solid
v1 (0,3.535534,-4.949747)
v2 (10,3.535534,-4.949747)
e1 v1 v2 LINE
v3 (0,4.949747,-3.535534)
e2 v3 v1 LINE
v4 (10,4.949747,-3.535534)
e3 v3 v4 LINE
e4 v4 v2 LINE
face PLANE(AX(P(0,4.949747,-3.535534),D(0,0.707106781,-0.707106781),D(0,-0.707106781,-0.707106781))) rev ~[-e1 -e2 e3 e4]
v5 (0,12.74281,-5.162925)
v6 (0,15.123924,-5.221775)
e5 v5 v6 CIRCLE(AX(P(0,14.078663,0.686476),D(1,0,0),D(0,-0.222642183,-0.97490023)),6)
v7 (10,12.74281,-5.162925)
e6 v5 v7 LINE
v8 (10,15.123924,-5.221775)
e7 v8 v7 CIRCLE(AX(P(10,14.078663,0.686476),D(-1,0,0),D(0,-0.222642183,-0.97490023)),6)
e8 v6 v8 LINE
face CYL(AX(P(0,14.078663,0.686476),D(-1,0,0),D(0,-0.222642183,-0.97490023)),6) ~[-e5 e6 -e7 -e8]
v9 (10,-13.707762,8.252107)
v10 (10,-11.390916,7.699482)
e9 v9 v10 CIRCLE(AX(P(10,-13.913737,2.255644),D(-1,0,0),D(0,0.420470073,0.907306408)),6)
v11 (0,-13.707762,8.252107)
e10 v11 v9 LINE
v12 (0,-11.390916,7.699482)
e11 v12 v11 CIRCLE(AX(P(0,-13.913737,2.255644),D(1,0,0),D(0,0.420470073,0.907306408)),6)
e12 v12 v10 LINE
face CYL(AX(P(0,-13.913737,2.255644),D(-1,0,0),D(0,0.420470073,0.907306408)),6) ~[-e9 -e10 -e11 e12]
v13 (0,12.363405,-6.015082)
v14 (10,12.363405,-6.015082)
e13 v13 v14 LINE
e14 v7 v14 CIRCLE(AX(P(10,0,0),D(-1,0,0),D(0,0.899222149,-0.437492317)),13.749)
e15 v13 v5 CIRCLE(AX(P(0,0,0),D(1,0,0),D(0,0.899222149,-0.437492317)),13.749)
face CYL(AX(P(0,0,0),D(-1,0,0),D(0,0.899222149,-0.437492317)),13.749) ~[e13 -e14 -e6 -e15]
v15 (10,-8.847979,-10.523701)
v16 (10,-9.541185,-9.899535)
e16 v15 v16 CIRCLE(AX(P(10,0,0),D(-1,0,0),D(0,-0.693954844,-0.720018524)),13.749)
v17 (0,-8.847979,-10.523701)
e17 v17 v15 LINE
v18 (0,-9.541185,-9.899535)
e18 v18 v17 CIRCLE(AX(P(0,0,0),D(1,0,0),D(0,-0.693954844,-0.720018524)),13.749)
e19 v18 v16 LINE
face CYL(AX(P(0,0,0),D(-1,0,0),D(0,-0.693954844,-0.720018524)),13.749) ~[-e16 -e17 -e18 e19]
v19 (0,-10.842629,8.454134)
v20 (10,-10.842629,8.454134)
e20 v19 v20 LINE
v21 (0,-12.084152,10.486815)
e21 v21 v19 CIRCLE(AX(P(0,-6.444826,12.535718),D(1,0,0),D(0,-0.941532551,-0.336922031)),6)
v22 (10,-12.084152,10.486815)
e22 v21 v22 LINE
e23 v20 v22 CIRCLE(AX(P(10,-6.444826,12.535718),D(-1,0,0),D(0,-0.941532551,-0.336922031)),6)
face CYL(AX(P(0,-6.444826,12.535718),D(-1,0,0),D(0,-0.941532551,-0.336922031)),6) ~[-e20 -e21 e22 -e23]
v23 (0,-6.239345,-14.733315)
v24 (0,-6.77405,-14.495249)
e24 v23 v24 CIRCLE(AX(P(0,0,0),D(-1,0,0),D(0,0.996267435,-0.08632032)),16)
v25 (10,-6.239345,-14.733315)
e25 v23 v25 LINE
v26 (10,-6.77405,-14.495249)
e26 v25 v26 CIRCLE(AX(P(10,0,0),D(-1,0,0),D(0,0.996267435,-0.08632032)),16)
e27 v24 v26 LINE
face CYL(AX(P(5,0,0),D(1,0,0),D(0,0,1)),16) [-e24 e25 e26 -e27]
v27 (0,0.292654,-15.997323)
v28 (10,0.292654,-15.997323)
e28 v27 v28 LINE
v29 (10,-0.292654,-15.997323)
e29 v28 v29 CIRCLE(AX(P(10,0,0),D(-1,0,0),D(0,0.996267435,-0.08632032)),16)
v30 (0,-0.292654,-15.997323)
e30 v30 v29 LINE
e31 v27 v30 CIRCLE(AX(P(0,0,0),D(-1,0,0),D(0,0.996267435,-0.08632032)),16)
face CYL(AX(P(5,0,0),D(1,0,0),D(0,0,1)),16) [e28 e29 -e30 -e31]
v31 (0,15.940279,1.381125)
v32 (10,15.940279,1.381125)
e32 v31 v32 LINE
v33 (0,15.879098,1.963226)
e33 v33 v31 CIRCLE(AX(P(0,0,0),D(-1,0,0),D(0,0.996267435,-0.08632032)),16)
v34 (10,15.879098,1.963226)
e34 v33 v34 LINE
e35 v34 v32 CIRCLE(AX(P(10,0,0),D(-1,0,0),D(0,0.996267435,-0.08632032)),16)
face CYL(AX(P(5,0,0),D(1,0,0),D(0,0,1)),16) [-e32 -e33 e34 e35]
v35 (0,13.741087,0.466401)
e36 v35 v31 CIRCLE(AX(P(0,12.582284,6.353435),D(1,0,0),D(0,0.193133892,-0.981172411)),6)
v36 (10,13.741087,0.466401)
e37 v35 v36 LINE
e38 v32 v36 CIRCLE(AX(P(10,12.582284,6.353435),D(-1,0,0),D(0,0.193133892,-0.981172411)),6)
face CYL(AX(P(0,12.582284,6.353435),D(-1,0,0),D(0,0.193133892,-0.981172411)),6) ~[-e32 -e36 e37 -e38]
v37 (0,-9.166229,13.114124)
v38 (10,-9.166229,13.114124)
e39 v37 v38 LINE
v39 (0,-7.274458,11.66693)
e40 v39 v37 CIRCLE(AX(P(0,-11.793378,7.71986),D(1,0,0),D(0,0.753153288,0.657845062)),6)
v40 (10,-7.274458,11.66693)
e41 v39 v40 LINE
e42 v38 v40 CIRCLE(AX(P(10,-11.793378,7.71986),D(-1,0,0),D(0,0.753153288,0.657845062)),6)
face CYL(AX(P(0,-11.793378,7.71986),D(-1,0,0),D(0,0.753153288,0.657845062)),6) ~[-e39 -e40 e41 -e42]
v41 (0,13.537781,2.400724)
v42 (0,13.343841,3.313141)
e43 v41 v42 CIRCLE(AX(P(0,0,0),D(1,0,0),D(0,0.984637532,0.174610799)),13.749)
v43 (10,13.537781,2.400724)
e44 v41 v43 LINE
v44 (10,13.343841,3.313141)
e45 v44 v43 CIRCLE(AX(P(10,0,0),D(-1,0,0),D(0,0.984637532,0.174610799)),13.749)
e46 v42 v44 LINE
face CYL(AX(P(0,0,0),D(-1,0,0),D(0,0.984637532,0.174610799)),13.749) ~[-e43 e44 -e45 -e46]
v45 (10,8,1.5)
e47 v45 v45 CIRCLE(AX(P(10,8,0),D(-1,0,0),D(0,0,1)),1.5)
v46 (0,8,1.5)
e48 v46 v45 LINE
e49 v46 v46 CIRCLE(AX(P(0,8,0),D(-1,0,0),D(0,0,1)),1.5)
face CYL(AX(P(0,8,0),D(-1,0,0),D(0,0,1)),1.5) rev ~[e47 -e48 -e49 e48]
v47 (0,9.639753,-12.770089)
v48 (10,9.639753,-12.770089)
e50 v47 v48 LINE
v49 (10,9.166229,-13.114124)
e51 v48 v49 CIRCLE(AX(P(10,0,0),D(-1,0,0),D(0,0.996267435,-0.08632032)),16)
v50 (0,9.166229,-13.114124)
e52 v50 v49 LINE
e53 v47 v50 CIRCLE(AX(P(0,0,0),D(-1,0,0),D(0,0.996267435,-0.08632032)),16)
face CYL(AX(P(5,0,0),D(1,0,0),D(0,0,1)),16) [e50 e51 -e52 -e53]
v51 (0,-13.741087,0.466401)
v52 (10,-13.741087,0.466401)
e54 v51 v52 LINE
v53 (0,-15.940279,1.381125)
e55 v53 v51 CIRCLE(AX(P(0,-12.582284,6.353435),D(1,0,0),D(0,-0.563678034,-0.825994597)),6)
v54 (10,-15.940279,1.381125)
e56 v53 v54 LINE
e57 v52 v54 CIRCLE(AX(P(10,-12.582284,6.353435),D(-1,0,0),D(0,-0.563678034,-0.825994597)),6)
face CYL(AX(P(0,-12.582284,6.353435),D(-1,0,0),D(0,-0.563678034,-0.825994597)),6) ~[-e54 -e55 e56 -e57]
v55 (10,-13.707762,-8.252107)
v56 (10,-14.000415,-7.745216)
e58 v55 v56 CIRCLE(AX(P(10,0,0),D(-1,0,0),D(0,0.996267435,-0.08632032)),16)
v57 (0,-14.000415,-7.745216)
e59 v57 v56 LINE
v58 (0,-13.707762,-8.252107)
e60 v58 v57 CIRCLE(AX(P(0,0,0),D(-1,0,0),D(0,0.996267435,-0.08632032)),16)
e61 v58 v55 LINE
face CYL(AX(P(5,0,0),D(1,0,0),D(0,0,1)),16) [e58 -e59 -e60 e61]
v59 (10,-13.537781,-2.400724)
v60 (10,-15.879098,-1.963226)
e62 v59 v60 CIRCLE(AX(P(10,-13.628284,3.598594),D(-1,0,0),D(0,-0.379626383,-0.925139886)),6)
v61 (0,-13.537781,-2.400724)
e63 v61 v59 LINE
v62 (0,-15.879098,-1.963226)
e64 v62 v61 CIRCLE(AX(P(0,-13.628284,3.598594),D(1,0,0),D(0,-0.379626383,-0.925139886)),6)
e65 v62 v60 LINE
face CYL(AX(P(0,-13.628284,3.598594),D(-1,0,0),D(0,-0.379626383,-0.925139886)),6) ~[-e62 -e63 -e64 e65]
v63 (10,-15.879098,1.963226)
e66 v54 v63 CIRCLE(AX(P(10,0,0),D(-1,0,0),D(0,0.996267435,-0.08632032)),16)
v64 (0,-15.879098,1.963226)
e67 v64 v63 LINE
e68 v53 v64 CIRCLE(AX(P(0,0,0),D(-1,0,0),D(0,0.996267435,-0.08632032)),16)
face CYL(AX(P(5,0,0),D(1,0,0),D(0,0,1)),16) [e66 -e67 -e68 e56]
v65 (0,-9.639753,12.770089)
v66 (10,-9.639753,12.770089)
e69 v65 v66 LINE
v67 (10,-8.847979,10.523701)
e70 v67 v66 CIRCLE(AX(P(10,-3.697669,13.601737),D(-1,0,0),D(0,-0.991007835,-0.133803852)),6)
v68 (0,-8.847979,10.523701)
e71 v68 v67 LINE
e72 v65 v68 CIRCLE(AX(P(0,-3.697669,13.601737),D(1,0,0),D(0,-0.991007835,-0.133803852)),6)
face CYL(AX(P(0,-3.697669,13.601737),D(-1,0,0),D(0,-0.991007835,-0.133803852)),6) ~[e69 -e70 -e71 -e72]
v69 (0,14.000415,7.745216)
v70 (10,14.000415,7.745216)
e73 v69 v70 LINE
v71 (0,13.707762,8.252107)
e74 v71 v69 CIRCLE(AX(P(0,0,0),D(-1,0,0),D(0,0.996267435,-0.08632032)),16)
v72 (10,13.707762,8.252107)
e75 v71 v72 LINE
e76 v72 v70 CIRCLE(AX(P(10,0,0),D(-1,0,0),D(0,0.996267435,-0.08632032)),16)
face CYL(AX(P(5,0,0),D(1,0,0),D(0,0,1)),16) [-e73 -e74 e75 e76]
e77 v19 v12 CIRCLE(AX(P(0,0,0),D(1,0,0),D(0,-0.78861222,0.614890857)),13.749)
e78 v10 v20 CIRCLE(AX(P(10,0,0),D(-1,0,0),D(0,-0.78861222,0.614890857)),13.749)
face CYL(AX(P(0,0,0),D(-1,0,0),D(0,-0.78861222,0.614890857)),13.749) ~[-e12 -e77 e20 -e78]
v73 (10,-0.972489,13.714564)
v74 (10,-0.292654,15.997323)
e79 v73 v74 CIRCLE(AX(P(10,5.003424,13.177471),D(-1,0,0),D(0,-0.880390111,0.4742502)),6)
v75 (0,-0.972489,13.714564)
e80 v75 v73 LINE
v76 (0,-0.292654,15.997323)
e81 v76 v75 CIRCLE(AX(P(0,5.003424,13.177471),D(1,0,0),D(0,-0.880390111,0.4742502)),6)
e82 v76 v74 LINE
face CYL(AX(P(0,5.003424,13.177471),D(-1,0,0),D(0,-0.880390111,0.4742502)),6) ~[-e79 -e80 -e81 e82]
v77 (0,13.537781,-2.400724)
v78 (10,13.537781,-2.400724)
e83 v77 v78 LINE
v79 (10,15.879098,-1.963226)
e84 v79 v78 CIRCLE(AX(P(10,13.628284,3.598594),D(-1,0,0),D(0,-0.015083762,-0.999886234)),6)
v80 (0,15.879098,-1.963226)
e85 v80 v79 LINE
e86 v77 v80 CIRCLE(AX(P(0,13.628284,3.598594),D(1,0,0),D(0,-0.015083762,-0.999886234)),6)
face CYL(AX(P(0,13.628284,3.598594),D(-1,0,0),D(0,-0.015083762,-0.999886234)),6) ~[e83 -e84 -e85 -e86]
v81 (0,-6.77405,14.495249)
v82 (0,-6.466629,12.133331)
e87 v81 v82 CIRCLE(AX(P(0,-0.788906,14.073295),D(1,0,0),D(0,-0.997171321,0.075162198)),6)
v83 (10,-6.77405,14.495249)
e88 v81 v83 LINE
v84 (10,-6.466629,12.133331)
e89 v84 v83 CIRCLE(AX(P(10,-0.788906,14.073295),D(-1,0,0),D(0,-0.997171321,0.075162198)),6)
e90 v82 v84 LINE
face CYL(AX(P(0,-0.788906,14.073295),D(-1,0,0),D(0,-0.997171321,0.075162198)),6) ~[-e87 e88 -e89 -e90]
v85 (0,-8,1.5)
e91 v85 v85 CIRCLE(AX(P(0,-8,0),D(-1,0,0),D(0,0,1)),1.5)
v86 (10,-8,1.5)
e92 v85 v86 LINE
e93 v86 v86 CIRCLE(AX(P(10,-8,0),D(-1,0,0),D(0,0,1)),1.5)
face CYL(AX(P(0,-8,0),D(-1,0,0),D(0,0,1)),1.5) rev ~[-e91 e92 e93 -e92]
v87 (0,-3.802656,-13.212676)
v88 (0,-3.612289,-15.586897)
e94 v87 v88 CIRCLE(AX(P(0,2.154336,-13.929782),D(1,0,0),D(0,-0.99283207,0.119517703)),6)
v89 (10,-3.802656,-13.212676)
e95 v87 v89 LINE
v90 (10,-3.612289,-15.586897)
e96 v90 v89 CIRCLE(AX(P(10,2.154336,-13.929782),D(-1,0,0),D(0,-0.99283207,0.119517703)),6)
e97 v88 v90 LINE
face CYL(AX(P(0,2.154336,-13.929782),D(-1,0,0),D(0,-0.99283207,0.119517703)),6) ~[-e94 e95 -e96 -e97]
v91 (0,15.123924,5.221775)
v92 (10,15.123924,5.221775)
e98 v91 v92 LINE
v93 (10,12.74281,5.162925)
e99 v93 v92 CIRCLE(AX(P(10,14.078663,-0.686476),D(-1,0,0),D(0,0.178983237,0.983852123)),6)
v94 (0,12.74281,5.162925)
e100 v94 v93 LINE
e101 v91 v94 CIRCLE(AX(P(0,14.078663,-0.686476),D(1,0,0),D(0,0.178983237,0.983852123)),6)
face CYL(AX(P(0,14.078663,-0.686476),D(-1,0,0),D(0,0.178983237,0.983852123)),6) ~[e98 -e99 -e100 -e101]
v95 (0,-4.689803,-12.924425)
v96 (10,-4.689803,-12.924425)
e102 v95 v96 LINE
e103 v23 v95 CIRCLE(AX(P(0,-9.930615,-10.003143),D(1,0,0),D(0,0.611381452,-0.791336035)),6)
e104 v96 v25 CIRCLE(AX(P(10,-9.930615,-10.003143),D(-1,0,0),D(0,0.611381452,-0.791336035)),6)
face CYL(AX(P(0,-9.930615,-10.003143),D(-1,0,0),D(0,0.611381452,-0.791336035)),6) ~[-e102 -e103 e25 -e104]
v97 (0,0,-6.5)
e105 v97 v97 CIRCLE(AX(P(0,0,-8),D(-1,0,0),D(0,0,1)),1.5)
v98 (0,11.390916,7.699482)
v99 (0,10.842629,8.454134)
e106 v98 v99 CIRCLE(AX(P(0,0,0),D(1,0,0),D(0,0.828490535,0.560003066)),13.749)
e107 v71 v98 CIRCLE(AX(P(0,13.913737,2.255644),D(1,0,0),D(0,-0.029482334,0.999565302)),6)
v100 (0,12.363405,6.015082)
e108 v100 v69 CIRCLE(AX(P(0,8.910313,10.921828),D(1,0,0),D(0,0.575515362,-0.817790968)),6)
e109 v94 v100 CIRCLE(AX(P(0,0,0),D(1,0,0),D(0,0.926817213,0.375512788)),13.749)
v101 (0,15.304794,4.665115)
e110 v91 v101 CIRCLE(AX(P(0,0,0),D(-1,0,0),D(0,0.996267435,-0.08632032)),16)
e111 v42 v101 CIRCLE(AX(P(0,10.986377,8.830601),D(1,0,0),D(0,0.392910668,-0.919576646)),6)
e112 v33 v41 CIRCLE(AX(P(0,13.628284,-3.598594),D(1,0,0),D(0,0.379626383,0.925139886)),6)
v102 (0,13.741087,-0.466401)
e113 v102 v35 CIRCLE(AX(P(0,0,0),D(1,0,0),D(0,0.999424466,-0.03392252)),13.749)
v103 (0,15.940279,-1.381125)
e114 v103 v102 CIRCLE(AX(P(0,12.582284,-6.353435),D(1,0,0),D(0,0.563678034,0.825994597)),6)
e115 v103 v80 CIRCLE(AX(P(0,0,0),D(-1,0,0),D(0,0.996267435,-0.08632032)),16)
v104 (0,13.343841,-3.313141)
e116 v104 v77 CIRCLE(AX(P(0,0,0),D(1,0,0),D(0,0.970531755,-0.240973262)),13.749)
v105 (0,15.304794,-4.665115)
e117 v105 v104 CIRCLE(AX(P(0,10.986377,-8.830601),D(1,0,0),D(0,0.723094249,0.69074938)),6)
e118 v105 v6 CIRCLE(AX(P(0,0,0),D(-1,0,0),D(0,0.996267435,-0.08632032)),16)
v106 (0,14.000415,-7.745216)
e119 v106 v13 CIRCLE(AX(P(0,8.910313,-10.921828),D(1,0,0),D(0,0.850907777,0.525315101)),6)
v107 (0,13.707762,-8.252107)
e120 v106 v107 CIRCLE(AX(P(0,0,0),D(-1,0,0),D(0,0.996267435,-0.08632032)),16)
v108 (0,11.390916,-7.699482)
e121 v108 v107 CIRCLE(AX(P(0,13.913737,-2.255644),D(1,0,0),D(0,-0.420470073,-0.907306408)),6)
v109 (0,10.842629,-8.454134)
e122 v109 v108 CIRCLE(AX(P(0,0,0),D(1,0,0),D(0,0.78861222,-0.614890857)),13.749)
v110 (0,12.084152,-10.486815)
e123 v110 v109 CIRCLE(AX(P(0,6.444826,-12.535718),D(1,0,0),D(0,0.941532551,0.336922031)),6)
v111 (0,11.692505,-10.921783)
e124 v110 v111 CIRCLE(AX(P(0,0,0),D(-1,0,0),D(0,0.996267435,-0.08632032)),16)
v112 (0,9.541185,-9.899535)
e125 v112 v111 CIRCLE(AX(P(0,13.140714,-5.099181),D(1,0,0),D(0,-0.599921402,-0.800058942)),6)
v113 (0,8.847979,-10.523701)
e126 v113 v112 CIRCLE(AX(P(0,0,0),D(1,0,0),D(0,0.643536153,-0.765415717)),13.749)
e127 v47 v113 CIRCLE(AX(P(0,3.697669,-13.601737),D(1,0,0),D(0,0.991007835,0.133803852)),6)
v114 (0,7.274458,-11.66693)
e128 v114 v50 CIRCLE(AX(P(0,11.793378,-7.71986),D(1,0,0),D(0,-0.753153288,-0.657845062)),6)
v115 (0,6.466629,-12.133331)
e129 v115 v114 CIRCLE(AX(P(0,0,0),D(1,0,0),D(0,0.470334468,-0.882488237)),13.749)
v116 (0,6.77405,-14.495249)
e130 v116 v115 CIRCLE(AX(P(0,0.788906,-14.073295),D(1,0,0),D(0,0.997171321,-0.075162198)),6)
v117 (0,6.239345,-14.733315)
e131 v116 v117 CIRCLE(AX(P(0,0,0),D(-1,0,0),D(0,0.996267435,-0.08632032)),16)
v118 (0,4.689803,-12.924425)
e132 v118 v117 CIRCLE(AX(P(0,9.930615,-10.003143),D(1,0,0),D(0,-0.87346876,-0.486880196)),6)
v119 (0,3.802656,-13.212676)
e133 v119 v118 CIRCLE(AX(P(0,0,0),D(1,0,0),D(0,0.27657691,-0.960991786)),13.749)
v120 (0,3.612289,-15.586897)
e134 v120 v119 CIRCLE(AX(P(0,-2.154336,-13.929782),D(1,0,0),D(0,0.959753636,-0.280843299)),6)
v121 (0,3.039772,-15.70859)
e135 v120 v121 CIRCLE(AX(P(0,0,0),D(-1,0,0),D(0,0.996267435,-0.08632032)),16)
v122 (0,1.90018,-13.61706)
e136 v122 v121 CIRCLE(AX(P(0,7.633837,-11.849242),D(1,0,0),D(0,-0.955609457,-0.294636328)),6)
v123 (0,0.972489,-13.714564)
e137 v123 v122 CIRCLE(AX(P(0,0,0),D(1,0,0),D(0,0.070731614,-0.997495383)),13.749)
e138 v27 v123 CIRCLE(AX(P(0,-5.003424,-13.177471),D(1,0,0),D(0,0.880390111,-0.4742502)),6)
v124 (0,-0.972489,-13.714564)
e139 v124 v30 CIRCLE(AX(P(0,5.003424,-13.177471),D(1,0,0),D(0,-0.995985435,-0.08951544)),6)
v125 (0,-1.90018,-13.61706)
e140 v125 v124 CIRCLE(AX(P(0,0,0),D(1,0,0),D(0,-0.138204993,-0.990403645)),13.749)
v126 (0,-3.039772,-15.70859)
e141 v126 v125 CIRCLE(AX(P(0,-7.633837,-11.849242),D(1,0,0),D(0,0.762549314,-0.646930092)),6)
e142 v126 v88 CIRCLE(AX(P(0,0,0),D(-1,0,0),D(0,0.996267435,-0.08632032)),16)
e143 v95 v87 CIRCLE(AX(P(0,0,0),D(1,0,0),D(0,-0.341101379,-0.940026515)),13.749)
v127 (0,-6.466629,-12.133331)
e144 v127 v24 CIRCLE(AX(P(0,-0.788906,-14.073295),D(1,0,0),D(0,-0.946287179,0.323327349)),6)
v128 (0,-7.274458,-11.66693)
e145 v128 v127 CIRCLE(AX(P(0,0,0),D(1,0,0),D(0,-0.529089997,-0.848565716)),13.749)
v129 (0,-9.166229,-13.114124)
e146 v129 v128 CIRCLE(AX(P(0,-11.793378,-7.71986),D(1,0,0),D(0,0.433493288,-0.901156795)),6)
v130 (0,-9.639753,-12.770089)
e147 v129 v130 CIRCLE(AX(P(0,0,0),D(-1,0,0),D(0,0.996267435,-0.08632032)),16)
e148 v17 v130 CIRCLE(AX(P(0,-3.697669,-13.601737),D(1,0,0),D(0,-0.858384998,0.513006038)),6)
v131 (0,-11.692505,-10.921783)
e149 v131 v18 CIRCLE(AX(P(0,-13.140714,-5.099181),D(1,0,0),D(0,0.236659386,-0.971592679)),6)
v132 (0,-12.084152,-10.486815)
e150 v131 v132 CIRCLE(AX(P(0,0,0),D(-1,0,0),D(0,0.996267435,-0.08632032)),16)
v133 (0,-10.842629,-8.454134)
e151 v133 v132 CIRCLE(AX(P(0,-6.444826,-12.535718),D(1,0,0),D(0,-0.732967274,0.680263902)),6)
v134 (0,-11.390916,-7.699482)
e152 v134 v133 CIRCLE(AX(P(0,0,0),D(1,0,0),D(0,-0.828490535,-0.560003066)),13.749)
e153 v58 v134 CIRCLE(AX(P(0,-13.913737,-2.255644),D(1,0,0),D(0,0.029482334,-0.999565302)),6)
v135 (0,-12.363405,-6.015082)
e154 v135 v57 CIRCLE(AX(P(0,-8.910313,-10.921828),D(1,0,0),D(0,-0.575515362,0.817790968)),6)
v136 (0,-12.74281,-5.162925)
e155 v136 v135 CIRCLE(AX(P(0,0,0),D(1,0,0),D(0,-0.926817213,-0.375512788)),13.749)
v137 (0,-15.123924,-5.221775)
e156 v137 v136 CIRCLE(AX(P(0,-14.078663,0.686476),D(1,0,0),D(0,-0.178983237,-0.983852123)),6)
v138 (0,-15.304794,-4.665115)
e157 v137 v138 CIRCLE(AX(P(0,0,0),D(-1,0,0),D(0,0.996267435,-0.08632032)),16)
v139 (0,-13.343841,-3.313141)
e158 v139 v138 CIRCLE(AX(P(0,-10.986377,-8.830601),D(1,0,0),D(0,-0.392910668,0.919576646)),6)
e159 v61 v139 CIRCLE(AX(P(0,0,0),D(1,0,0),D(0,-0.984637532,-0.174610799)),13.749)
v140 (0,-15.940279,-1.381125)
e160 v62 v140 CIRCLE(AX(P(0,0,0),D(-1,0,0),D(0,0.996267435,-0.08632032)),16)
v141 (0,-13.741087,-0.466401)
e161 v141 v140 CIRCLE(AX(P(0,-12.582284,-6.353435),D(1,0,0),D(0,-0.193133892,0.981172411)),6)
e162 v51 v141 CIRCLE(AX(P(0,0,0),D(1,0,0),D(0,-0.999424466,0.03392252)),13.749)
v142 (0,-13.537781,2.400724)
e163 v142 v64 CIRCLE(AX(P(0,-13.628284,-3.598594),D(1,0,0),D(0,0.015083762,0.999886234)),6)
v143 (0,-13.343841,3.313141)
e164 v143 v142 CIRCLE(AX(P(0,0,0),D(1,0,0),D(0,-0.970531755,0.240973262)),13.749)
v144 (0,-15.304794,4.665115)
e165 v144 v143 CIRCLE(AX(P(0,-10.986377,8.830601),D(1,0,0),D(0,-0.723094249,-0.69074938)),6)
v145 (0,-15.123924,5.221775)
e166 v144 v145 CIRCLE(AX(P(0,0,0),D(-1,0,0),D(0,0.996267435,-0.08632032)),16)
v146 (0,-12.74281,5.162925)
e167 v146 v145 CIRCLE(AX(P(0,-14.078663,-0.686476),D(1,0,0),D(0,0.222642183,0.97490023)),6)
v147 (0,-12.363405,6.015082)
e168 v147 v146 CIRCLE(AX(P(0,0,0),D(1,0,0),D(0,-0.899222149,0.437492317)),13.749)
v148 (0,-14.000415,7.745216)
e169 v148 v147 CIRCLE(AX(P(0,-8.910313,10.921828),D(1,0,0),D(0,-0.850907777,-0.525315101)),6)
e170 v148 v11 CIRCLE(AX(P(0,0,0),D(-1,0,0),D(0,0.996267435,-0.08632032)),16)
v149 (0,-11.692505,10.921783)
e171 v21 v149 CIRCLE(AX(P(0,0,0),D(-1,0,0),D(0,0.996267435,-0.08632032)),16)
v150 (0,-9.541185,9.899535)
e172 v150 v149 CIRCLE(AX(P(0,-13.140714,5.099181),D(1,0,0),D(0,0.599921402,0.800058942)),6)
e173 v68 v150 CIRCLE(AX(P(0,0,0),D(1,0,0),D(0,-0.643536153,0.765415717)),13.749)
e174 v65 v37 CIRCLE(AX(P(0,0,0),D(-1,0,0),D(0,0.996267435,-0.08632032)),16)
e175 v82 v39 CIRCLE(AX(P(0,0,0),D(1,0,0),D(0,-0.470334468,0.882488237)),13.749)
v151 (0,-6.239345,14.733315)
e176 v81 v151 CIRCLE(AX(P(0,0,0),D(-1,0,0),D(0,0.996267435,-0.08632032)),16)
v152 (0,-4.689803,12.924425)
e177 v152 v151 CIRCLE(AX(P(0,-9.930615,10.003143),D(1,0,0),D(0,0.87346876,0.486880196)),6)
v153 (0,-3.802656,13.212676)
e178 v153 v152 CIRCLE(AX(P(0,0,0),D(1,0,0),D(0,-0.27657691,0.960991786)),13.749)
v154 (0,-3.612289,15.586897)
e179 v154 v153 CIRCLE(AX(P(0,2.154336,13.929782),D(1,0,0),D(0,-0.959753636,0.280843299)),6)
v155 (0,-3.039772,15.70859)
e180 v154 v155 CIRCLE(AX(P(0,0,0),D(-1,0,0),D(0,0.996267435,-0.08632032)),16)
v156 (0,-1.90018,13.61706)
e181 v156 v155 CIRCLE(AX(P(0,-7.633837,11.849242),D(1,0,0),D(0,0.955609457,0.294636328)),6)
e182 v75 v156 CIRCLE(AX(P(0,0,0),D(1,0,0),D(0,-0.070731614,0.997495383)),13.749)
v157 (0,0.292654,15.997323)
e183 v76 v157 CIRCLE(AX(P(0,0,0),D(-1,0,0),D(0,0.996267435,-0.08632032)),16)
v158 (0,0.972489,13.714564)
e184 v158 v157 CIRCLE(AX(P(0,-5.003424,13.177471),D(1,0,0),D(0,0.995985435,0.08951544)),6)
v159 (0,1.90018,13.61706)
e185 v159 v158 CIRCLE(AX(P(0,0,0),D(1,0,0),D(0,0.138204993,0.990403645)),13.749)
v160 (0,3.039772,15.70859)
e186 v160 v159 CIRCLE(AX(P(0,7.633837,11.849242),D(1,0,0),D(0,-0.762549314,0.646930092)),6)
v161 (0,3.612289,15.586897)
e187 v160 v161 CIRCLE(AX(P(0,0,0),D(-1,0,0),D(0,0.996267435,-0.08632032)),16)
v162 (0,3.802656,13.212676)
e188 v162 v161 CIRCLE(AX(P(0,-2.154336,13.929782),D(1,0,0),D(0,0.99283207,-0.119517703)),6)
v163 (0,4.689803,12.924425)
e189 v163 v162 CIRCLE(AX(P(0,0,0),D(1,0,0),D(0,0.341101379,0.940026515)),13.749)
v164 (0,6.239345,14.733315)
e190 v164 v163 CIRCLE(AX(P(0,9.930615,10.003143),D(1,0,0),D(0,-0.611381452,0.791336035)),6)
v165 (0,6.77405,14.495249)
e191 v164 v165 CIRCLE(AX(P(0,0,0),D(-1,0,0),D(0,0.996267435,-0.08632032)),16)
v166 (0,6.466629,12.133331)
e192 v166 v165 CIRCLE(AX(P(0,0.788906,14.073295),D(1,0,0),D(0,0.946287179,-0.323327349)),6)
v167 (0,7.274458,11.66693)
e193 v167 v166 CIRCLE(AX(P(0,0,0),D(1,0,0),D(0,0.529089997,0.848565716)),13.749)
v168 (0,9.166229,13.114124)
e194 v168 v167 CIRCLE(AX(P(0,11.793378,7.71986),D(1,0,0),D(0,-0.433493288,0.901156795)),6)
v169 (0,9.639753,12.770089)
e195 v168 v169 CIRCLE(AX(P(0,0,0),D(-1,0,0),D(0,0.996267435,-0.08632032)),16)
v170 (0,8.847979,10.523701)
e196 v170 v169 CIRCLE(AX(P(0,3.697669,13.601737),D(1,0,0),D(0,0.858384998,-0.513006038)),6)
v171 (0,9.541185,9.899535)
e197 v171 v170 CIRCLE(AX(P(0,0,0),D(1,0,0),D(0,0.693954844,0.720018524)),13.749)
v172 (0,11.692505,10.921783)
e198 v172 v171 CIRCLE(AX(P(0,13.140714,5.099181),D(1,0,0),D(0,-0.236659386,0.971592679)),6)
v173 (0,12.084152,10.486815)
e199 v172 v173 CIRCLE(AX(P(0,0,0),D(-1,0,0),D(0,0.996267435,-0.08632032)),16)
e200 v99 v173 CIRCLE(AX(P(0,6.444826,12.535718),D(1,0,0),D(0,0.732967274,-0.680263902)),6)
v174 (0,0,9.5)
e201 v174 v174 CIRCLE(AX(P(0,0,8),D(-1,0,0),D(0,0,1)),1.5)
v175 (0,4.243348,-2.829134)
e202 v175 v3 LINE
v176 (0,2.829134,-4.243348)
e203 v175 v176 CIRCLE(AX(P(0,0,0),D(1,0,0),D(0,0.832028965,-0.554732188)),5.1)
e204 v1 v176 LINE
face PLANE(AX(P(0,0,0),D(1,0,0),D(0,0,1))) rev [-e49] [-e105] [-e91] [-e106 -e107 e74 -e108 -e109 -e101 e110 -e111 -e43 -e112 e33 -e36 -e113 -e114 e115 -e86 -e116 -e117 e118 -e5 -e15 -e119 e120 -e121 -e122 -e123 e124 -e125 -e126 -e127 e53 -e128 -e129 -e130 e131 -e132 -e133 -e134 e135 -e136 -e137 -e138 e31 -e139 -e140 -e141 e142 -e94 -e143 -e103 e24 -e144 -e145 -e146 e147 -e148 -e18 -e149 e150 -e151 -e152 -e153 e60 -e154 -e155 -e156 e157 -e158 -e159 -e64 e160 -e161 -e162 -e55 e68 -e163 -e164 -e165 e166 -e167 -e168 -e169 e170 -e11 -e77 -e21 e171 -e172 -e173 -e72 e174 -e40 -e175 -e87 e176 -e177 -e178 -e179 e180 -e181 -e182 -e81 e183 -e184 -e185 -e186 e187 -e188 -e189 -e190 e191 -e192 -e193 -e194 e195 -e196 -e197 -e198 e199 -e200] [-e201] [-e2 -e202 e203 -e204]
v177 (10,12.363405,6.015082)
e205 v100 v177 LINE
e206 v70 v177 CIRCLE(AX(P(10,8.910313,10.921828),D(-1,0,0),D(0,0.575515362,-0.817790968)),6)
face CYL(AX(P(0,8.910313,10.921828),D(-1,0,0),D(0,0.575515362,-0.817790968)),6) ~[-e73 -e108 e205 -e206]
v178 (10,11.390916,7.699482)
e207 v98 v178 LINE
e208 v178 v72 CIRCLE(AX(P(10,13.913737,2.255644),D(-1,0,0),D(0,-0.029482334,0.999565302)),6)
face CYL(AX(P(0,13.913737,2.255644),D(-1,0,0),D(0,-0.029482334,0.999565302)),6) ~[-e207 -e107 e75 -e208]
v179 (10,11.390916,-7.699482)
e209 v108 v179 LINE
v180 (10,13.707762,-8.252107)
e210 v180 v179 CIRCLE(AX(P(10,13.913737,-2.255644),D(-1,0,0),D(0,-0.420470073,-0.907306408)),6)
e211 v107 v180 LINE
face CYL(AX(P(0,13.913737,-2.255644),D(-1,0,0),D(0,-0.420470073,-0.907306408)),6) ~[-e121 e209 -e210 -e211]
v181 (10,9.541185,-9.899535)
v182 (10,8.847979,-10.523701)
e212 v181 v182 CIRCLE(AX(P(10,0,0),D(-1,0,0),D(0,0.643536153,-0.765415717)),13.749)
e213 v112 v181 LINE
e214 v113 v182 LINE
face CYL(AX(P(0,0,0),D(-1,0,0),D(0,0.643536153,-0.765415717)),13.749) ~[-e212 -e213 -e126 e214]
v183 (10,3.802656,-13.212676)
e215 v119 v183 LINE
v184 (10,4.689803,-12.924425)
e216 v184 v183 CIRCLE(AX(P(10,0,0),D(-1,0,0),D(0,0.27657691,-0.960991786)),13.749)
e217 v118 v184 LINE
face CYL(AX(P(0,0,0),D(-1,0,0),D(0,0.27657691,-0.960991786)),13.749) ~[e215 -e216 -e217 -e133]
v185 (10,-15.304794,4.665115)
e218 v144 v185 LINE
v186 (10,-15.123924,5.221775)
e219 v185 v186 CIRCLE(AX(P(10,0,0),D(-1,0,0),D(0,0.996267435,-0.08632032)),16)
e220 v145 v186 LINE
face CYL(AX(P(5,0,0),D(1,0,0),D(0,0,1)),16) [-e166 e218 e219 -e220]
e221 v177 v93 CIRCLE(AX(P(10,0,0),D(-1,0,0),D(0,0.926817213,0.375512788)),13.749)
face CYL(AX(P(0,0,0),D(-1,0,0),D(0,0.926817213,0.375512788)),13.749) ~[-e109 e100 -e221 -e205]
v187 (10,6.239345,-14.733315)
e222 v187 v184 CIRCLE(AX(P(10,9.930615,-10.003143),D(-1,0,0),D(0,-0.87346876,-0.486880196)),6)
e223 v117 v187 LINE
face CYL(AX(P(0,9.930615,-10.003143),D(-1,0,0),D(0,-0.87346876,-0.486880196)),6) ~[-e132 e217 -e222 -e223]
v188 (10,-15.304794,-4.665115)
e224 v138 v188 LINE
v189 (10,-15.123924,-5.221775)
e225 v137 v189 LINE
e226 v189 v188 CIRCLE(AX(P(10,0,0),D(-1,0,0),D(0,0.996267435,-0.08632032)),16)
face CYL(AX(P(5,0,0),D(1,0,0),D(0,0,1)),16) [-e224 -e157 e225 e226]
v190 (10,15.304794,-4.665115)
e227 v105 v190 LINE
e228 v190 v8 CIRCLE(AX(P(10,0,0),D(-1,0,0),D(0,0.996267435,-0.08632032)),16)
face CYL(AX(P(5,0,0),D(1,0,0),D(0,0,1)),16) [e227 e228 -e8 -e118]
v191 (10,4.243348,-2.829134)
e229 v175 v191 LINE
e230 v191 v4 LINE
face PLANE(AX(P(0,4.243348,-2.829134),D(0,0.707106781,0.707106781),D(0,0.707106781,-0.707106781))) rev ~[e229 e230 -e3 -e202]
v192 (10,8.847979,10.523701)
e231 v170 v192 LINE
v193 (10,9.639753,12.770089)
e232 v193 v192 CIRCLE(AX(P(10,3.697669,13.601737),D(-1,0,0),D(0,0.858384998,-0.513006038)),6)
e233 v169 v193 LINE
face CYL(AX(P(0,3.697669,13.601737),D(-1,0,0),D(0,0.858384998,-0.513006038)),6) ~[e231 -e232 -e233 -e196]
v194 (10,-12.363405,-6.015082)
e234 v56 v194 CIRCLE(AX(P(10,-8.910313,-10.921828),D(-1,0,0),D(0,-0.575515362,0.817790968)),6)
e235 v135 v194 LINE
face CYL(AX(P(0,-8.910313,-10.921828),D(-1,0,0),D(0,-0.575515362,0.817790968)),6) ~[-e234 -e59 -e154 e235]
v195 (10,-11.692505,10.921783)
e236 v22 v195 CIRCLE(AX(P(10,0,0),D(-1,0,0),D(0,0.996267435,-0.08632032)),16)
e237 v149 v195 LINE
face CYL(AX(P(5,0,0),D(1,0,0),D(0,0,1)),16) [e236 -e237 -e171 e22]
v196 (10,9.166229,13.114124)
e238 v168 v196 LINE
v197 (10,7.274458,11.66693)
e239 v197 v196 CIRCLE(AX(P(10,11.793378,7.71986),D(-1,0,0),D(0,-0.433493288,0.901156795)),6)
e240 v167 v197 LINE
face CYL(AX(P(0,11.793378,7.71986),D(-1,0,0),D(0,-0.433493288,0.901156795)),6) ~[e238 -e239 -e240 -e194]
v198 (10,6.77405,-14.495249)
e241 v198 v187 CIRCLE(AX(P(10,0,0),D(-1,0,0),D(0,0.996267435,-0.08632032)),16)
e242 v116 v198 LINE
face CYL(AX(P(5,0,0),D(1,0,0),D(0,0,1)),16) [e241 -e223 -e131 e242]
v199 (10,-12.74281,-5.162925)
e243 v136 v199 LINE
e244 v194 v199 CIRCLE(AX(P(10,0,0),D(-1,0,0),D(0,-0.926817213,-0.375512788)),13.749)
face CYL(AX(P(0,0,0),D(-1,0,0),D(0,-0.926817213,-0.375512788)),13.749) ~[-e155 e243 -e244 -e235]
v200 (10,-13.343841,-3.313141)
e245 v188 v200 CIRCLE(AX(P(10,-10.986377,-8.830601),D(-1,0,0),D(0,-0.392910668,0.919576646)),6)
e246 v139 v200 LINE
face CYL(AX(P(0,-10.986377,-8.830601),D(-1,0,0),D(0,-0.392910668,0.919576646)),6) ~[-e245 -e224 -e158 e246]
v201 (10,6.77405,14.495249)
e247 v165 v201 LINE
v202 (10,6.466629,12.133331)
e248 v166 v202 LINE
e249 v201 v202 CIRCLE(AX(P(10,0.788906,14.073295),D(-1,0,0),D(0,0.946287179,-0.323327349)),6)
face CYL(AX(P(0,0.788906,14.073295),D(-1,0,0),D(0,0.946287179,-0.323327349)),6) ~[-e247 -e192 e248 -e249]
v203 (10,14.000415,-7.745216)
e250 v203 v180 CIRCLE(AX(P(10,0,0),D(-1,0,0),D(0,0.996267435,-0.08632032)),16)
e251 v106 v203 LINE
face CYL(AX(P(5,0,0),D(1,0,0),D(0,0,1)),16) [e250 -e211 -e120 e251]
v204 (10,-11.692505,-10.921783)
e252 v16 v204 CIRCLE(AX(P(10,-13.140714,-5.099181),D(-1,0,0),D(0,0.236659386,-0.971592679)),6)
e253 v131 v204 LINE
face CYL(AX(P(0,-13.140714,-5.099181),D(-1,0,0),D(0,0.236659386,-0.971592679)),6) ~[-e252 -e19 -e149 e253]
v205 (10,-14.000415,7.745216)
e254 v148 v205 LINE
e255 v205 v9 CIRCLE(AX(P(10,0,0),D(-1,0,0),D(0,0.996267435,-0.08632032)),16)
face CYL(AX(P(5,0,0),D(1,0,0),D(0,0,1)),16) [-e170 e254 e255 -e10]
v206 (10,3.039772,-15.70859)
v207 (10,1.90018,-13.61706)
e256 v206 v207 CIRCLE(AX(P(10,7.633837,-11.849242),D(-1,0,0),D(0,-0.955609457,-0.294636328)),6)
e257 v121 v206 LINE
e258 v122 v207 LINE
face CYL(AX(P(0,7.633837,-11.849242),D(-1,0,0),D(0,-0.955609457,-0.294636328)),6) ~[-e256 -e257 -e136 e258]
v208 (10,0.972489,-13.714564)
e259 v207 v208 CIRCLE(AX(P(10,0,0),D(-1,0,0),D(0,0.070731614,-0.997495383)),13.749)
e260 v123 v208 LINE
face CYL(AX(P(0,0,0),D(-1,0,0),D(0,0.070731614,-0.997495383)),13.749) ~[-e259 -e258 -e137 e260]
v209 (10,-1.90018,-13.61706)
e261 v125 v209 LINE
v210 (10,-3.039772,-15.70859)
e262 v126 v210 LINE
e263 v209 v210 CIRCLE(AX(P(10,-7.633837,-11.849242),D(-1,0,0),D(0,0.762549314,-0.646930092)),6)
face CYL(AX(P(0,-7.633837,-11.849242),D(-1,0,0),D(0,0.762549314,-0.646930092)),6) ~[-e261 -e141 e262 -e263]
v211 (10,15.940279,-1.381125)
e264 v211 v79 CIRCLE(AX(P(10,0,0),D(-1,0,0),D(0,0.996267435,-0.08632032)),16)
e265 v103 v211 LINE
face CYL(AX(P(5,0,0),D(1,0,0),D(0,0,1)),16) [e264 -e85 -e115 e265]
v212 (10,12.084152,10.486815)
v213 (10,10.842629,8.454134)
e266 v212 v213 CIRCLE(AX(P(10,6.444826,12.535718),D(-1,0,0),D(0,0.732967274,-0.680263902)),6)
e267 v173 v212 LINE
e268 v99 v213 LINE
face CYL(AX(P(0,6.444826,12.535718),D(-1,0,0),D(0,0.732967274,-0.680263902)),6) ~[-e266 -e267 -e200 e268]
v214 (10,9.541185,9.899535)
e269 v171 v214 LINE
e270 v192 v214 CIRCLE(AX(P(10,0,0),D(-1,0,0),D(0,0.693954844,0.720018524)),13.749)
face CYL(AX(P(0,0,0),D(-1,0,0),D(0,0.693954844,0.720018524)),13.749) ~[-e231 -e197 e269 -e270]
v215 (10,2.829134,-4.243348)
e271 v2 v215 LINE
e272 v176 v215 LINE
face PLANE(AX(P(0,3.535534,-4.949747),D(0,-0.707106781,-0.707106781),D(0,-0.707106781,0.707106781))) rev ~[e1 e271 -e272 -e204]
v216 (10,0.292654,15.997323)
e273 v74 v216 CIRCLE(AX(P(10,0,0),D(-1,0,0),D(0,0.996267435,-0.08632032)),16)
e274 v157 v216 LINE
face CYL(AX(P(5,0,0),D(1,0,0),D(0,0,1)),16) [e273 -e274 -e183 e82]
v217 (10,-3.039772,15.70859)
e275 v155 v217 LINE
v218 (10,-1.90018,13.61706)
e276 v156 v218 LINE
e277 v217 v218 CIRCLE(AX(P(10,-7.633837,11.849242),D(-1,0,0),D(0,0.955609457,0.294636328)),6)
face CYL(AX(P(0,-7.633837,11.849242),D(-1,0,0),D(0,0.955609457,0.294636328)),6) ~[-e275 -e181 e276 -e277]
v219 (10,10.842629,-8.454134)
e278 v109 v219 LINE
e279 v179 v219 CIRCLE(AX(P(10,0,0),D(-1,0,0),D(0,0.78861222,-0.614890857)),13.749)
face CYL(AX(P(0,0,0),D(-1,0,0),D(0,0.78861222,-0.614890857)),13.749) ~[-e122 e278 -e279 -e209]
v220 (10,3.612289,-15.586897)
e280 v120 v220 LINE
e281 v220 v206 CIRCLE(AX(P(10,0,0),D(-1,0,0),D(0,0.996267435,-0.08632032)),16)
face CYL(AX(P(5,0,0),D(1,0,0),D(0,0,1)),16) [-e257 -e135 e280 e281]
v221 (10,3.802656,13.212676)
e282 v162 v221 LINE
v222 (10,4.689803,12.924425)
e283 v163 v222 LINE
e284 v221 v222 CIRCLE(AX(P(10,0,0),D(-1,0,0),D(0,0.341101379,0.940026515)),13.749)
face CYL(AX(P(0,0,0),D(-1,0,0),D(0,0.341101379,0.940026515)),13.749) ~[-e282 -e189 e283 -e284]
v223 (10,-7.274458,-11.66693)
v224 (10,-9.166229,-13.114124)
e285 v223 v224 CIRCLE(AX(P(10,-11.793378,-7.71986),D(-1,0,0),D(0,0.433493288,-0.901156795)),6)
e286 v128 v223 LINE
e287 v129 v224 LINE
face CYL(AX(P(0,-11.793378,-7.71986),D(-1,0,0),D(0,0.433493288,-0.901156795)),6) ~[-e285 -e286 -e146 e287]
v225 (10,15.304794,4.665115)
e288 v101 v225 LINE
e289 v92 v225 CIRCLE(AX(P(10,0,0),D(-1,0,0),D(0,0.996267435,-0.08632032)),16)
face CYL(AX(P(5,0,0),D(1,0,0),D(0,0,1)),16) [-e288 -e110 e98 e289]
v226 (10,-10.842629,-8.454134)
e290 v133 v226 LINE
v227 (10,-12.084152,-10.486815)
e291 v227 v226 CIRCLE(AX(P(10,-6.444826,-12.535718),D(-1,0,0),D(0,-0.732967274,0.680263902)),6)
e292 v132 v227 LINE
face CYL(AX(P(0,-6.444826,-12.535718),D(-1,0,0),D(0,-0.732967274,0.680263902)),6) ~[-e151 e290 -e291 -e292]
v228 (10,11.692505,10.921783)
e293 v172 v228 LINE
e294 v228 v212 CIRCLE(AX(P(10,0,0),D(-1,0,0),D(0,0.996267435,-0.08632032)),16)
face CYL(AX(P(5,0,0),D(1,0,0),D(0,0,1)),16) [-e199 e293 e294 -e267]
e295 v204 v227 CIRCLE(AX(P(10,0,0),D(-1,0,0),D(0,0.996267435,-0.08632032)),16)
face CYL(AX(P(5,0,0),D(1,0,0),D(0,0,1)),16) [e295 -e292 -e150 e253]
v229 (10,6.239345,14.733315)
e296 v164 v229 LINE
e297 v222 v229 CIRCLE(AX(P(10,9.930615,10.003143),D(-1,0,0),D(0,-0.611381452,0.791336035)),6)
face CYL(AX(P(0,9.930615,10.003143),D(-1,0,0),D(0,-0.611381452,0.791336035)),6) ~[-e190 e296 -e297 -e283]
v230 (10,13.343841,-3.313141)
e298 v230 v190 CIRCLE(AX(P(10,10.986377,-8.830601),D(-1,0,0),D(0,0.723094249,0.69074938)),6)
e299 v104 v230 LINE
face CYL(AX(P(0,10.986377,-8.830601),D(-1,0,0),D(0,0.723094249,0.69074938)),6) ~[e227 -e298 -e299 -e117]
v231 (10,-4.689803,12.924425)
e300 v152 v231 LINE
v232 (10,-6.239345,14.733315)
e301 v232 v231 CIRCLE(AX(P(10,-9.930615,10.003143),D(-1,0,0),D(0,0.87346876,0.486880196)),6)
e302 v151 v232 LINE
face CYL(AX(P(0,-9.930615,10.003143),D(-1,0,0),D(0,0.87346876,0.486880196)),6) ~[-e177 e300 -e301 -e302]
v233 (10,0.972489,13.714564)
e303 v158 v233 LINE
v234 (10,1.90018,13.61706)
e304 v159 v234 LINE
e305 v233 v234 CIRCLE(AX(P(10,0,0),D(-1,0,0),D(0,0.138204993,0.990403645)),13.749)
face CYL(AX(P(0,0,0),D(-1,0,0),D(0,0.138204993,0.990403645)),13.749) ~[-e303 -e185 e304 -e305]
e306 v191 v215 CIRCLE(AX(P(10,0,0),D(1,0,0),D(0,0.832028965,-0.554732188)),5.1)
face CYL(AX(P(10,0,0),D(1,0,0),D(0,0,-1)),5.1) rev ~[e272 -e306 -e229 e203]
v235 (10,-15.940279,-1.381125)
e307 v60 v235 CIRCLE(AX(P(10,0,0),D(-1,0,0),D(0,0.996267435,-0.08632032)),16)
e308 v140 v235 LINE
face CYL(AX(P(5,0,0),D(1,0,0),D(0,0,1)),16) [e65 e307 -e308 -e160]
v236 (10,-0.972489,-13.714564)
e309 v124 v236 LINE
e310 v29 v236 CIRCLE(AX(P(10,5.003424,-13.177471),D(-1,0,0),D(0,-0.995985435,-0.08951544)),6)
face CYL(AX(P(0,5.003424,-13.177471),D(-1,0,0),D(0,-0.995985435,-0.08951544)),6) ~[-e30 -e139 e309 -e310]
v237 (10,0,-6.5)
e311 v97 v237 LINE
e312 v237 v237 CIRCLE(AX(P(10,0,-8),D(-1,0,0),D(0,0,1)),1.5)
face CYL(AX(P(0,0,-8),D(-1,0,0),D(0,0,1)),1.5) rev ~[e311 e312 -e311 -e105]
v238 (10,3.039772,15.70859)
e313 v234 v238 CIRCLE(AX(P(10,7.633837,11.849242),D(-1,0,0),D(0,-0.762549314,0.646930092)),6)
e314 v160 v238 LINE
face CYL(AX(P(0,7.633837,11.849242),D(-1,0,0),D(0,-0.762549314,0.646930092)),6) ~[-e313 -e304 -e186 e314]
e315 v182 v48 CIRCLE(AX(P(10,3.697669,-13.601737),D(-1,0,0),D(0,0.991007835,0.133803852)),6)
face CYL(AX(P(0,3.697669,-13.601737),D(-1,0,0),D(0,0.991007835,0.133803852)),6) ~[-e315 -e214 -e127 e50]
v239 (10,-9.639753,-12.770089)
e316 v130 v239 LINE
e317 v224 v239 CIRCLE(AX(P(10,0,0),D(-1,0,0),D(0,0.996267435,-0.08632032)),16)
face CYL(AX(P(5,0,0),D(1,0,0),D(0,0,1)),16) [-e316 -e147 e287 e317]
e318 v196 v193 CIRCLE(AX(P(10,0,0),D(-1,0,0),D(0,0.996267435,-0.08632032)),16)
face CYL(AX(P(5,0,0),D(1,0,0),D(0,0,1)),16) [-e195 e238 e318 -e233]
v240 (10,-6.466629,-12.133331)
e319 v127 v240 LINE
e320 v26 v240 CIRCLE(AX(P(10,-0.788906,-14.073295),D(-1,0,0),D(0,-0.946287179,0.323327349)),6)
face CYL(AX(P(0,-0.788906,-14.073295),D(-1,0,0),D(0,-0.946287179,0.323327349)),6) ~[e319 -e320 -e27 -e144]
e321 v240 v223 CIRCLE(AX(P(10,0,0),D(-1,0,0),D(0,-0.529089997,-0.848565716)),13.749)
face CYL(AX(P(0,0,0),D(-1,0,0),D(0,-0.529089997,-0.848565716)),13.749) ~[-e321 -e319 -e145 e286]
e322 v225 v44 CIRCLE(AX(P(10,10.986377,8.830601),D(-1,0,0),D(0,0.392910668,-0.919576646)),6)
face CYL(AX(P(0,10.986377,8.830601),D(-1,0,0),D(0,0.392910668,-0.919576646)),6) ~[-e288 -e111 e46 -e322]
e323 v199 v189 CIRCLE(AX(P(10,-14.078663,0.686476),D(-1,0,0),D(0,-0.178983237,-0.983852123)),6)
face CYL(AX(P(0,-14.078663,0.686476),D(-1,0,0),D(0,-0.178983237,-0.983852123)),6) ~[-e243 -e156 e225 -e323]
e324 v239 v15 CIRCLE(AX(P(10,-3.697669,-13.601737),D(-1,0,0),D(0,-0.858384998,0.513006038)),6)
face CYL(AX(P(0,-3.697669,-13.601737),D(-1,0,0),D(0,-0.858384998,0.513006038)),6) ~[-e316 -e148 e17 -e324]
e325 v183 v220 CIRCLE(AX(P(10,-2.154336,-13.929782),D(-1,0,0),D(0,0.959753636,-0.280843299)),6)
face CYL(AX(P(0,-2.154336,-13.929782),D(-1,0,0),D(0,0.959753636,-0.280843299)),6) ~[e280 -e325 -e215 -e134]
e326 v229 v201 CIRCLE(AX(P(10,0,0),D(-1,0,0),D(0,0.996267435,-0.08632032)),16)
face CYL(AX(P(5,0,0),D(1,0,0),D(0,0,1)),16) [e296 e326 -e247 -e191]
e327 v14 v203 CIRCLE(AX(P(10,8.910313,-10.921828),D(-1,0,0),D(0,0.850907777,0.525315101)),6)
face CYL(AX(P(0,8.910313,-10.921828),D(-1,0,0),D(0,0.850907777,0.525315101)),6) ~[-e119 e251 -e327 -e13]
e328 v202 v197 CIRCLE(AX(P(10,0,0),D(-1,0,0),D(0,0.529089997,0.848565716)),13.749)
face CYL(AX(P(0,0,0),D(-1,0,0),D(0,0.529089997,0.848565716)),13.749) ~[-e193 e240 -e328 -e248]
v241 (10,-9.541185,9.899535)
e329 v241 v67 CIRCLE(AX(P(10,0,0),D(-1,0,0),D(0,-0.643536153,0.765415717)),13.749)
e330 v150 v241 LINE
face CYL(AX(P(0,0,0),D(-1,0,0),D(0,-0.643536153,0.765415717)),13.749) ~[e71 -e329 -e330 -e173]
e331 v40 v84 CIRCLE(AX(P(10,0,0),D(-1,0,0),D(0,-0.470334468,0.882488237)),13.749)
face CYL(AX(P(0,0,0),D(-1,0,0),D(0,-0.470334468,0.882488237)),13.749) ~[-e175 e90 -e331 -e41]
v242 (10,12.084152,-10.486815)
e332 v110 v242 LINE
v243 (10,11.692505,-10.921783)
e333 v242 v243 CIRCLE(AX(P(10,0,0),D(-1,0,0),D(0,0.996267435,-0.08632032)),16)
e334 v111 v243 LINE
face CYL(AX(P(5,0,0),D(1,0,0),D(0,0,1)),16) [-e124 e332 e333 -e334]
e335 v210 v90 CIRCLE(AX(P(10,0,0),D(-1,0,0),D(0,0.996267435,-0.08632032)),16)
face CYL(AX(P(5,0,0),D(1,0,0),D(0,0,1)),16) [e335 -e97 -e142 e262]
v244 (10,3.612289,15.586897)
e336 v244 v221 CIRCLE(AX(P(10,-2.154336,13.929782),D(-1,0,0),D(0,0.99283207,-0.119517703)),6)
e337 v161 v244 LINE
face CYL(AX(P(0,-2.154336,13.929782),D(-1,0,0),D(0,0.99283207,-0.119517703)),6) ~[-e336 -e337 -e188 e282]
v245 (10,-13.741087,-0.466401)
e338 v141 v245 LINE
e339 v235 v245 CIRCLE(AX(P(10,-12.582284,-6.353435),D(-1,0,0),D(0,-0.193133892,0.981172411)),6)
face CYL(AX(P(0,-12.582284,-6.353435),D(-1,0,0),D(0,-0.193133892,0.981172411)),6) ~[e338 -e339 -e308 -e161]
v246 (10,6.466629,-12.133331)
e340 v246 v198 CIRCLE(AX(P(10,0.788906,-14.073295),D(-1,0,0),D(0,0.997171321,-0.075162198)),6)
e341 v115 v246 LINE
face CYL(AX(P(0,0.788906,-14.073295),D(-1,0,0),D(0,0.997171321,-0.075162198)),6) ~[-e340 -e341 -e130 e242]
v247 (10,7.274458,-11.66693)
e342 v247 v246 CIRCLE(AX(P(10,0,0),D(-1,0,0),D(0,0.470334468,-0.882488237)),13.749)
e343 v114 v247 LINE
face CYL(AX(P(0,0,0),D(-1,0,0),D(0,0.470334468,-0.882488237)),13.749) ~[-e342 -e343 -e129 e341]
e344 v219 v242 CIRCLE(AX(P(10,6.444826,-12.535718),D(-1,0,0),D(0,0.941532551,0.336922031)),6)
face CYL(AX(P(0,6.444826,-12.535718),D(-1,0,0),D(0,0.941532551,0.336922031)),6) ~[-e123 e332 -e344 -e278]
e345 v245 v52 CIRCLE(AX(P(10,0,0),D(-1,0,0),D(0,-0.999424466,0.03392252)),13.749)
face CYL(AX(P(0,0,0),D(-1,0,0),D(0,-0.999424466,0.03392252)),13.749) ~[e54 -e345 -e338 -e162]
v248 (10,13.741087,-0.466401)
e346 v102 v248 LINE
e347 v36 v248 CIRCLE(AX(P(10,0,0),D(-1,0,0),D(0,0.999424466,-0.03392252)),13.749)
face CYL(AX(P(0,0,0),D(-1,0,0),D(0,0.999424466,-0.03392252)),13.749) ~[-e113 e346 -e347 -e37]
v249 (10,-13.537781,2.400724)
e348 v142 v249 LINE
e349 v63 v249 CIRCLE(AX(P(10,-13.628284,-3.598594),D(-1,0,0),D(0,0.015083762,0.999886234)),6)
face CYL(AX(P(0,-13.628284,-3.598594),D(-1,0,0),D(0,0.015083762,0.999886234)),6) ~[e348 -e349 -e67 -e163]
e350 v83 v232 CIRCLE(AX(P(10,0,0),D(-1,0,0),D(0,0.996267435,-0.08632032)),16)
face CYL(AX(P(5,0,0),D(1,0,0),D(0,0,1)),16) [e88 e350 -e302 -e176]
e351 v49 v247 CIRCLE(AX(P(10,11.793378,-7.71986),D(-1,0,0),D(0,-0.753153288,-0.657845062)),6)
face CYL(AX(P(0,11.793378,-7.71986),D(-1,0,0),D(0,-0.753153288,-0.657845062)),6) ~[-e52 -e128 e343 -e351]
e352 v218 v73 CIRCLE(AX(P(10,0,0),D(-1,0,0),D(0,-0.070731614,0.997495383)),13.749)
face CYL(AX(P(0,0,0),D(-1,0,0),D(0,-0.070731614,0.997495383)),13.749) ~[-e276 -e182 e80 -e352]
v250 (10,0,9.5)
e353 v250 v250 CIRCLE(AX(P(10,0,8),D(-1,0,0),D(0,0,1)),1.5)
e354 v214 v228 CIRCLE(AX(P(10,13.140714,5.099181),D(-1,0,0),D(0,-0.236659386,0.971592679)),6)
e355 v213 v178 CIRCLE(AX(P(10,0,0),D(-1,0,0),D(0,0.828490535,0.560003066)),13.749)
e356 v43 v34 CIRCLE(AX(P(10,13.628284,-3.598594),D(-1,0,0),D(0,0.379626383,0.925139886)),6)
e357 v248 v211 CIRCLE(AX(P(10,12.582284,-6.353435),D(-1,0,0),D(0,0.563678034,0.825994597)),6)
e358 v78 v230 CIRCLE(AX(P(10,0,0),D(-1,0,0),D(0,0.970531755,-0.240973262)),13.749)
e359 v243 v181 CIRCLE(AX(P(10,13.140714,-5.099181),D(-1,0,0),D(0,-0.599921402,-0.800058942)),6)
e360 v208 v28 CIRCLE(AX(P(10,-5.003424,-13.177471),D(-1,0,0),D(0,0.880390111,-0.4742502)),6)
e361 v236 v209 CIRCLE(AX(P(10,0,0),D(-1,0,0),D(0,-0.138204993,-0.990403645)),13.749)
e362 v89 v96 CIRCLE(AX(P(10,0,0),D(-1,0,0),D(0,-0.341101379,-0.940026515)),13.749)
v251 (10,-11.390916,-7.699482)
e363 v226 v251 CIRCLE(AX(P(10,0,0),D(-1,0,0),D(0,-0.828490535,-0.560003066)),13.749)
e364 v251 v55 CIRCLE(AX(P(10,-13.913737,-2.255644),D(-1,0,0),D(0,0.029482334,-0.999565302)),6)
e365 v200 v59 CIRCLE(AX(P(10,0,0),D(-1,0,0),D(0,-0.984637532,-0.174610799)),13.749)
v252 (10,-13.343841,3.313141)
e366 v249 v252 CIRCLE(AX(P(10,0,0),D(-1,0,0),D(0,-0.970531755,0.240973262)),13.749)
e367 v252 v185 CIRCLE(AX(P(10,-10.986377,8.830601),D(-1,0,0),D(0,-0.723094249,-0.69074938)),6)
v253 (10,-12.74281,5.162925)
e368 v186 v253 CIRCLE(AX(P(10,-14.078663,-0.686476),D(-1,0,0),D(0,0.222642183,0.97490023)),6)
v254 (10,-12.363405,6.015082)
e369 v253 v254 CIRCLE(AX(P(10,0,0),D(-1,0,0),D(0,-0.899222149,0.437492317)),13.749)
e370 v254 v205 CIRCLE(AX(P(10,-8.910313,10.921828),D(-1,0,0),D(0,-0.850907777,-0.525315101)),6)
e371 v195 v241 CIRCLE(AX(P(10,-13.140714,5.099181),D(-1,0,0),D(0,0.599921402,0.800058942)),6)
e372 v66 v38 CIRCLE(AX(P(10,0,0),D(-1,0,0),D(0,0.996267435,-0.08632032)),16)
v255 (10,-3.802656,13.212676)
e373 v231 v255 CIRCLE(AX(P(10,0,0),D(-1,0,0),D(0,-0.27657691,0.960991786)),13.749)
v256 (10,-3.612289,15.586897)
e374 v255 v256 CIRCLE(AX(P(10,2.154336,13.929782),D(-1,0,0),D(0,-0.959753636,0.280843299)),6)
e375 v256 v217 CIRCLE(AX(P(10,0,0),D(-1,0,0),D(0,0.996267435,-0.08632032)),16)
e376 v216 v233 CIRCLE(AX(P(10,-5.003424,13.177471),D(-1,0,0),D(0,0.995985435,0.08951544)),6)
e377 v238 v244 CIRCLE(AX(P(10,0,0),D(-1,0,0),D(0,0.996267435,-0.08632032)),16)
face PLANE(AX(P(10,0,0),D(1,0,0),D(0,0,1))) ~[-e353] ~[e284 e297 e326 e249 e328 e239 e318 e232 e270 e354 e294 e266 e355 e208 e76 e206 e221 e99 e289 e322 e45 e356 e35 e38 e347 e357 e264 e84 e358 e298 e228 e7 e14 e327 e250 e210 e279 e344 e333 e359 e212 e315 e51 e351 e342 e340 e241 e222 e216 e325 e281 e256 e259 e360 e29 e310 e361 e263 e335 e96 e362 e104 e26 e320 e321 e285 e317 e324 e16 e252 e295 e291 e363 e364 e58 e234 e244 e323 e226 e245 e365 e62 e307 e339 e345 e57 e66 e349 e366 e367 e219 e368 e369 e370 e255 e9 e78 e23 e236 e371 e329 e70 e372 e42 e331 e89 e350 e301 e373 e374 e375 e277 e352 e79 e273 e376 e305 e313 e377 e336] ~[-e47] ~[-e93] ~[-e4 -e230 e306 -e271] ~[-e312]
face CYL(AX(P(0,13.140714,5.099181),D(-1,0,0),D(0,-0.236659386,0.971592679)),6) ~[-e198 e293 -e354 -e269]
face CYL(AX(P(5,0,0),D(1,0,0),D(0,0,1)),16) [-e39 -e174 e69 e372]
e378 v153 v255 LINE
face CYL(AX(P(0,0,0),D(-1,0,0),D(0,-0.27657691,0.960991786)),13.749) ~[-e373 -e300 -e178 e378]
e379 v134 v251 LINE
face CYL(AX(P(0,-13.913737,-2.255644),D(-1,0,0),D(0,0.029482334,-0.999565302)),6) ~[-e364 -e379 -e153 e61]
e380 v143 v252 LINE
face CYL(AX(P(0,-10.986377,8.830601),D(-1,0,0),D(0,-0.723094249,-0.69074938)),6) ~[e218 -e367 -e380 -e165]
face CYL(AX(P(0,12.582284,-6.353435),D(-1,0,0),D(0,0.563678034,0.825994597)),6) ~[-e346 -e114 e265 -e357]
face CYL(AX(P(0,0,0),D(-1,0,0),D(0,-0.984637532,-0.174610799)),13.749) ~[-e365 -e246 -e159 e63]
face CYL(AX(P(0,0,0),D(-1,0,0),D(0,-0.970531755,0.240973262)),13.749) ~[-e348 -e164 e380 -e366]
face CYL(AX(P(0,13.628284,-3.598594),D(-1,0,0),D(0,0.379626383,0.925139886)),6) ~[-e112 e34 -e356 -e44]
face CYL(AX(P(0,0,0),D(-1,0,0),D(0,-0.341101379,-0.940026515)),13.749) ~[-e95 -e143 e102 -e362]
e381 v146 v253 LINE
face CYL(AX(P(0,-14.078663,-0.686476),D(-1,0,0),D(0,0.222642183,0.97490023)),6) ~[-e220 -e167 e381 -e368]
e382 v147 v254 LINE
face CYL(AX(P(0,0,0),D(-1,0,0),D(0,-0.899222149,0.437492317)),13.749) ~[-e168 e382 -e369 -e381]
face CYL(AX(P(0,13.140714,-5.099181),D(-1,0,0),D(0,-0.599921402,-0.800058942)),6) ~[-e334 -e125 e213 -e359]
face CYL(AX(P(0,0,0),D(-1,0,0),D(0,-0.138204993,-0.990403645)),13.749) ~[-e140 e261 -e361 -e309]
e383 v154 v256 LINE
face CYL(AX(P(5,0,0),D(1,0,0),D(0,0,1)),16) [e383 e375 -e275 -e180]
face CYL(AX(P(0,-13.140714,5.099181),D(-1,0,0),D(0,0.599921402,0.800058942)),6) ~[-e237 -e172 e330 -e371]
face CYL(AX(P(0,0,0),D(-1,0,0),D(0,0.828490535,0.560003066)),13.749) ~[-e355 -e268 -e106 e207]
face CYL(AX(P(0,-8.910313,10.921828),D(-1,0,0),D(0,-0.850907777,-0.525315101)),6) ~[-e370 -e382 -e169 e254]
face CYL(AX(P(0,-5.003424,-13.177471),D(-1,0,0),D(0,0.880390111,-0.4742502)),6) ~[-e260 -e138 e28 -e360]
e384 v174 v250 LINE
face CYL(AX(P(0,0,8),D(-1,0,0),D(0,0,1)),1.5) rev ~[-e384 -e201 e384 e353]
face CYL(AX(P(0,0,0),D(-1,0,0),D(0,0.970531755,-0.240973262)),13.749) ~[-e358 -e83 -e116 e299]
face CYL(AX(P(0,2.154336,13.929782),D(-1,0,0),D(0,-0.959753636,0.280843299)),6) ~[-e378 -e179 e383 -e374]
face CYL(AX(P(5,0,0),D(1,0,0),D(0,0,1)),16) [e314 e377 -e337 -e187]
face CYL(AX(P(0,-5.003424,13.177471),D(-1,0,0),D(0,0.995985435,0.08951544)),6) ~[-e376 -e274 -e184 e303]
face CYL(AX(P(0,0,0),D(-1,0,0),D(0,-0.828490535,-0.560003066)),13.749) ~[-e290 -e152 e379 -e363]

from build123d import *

# Parameters (mm, degrees)
BASPROSKE_W        = 10
BASPROSKE_H        = 16
TOOTHCUT_DEPTH     = 25.738633754
TEETHCUTS_COUNT    = 30
TEETHCUTS_ANGLE    = 348
HUBNEAONESKE_R     = 12.5
HUBNEARONE_DEPTH   = 8.0000508
BORSKE_R           = 3
BORE_DEPTH         = 18.0000508
SKETCH2_R          = 12.5
CUT_EXTRUDE1_DEPTH = 8.0000508
SKETCH3_R          = 5.1
CUT_EXTRUDE2_DEPTH = 10
SKETCH4_R          = 1.5
CUT_EXTRUDE3_DEPTH = 10


with BuildPart() as part:
    # BasProSke → Base-Revolve (revolve)
    with BuildSketch(Plane(origin=(0, 0, 0), x_dir=(1, 0, 0), z_dir=(0, 1, 0)), mode=Mode.PRIVATE) as base_revolve_sk:
        with Locations((5, 8)):
            Rectangle(BASPROSKE_W, BASPROSKE_H)
    revolve(base_revolve_sk.sketch.rotate(Axis((-10, 0, 0), (1, 0, 0)), 180), axis=Axis((-10, 0, 0), (1, 0, 0)))

    # TooCutSke → ToothCut (cut, through all)
    with BuildSketch(Plane(origin=(0, 0, 0), x_dir=(0, 0, -1), z_dir=(1, 0, 0))):
        with BuildLine():
            ThreePointArc((0.466400716, 13.741086979), (0, 13.749), (-0.466400716, 13.741086979))
            ThreePointArc((-0.466400716, 13.741086979), (-0.819142092, 14.899954875), (-1.3974676, 15.964351834))
            ThreePointArc((-1.3974676, 15.964351834), (0, 16.0254), (1.3974676, 15.964351834))
            ThreePointArc((1.3974676, 15.964351834), (0.819142092, 14.899954875), (0.466400716, 13.741086979))
        make_face()
    toothcut = extrude(amount=TOOTHCUT_DEPTH, mode=Mode.SUBTRACT)

    # TeethCuts: ToothCut ×30 about axis
    teethcuts_axis = Axis((-10, 0, 0), (1, 0, 0))
    for i in range(1, TEETHCUTS_COUNT):
        add(toothcut.rotate(teethcuts_axis, i * TEETHCUTS_ANGLE / (TEETHCUTS_COUNT - 1)), mode=Mode.SUBTRACT)

    # HubNeaOneSke → HubNearOne (add)
    with BuildSketch(Plane.ZY):
        with Locations(Location((0, 0, 0), (0, 0, 180))):
            Circle(HUBNEAONESKE_R)
    extrude(amount=HUBNEARONE_DEPTH)

    # BorSke → Bore (cut, symmetric)
    with BuildSketch(Plane(origin=(0, 0, 0), x_dir=(0, 0, -1), z_dir=(1, 0, 0))):
        with Locations(Location((0, 0, 0), (0, 0, 180))):
            Circle(BORSKE_R)
    extrude(amount=BORE_DEPTH, both=True, mode=Mode.SUBTRACT)

    # Sketch2 → Cut-Extrude1 (cut)
    with BuildSketch(Plane.ZY.offset(8.0000508)):
        Circle(SKETCH2_R)
    extrude(amount=-CUT_EXTRUDE1_DEPTH, mode=Mode.SUBTRACT)

    # Sketch3 → Cut-Extrude2 (cut)
    with BuildSketch(Plane(origin=(10, 0, 0), x_dir=(0, 0, -1), z_dir=(1, 0, 0))):
        Circle(SKETCH3_R)
    extrude(amount=-CUT_EXTRUDE2_DEPTH, mode=Mode.SUBTRACT)

    # Sketch4 → Cut-Extrude3 (cut)
    with BuildSketch(Plane.ZY):
        with BuildLine():
            ThreePointArc((-4.243347723, 2.829134161), (-3.606244584, 3.606244584), (-2.829134161, 4.243347723))
            Line((-2.829134161, 4.243347723), (-3.535533906, 4.949747468))
            Line((-3.535533906, 4.949747468), (-4.949747468, 3.535533906))
            Line((-4.949747468, 3.535533906), (-4.243347723, 2.829134161))
        make_face()
        with Locations((0, -8)):
            Circle(SKETCH4_R)
        with Locations((8, 0)):
            Circle(SKETCH4_R)
        with Locations((-8, 0)):
            Circle(SKETCH4_R)
        with Locations((0, 8)):
            Circle(SKETCH4_R)
    extrude(amount=-CUT_EXTRUDE3_DEPTH, mode=Mode.SUBTRACT)


solid = part.part
